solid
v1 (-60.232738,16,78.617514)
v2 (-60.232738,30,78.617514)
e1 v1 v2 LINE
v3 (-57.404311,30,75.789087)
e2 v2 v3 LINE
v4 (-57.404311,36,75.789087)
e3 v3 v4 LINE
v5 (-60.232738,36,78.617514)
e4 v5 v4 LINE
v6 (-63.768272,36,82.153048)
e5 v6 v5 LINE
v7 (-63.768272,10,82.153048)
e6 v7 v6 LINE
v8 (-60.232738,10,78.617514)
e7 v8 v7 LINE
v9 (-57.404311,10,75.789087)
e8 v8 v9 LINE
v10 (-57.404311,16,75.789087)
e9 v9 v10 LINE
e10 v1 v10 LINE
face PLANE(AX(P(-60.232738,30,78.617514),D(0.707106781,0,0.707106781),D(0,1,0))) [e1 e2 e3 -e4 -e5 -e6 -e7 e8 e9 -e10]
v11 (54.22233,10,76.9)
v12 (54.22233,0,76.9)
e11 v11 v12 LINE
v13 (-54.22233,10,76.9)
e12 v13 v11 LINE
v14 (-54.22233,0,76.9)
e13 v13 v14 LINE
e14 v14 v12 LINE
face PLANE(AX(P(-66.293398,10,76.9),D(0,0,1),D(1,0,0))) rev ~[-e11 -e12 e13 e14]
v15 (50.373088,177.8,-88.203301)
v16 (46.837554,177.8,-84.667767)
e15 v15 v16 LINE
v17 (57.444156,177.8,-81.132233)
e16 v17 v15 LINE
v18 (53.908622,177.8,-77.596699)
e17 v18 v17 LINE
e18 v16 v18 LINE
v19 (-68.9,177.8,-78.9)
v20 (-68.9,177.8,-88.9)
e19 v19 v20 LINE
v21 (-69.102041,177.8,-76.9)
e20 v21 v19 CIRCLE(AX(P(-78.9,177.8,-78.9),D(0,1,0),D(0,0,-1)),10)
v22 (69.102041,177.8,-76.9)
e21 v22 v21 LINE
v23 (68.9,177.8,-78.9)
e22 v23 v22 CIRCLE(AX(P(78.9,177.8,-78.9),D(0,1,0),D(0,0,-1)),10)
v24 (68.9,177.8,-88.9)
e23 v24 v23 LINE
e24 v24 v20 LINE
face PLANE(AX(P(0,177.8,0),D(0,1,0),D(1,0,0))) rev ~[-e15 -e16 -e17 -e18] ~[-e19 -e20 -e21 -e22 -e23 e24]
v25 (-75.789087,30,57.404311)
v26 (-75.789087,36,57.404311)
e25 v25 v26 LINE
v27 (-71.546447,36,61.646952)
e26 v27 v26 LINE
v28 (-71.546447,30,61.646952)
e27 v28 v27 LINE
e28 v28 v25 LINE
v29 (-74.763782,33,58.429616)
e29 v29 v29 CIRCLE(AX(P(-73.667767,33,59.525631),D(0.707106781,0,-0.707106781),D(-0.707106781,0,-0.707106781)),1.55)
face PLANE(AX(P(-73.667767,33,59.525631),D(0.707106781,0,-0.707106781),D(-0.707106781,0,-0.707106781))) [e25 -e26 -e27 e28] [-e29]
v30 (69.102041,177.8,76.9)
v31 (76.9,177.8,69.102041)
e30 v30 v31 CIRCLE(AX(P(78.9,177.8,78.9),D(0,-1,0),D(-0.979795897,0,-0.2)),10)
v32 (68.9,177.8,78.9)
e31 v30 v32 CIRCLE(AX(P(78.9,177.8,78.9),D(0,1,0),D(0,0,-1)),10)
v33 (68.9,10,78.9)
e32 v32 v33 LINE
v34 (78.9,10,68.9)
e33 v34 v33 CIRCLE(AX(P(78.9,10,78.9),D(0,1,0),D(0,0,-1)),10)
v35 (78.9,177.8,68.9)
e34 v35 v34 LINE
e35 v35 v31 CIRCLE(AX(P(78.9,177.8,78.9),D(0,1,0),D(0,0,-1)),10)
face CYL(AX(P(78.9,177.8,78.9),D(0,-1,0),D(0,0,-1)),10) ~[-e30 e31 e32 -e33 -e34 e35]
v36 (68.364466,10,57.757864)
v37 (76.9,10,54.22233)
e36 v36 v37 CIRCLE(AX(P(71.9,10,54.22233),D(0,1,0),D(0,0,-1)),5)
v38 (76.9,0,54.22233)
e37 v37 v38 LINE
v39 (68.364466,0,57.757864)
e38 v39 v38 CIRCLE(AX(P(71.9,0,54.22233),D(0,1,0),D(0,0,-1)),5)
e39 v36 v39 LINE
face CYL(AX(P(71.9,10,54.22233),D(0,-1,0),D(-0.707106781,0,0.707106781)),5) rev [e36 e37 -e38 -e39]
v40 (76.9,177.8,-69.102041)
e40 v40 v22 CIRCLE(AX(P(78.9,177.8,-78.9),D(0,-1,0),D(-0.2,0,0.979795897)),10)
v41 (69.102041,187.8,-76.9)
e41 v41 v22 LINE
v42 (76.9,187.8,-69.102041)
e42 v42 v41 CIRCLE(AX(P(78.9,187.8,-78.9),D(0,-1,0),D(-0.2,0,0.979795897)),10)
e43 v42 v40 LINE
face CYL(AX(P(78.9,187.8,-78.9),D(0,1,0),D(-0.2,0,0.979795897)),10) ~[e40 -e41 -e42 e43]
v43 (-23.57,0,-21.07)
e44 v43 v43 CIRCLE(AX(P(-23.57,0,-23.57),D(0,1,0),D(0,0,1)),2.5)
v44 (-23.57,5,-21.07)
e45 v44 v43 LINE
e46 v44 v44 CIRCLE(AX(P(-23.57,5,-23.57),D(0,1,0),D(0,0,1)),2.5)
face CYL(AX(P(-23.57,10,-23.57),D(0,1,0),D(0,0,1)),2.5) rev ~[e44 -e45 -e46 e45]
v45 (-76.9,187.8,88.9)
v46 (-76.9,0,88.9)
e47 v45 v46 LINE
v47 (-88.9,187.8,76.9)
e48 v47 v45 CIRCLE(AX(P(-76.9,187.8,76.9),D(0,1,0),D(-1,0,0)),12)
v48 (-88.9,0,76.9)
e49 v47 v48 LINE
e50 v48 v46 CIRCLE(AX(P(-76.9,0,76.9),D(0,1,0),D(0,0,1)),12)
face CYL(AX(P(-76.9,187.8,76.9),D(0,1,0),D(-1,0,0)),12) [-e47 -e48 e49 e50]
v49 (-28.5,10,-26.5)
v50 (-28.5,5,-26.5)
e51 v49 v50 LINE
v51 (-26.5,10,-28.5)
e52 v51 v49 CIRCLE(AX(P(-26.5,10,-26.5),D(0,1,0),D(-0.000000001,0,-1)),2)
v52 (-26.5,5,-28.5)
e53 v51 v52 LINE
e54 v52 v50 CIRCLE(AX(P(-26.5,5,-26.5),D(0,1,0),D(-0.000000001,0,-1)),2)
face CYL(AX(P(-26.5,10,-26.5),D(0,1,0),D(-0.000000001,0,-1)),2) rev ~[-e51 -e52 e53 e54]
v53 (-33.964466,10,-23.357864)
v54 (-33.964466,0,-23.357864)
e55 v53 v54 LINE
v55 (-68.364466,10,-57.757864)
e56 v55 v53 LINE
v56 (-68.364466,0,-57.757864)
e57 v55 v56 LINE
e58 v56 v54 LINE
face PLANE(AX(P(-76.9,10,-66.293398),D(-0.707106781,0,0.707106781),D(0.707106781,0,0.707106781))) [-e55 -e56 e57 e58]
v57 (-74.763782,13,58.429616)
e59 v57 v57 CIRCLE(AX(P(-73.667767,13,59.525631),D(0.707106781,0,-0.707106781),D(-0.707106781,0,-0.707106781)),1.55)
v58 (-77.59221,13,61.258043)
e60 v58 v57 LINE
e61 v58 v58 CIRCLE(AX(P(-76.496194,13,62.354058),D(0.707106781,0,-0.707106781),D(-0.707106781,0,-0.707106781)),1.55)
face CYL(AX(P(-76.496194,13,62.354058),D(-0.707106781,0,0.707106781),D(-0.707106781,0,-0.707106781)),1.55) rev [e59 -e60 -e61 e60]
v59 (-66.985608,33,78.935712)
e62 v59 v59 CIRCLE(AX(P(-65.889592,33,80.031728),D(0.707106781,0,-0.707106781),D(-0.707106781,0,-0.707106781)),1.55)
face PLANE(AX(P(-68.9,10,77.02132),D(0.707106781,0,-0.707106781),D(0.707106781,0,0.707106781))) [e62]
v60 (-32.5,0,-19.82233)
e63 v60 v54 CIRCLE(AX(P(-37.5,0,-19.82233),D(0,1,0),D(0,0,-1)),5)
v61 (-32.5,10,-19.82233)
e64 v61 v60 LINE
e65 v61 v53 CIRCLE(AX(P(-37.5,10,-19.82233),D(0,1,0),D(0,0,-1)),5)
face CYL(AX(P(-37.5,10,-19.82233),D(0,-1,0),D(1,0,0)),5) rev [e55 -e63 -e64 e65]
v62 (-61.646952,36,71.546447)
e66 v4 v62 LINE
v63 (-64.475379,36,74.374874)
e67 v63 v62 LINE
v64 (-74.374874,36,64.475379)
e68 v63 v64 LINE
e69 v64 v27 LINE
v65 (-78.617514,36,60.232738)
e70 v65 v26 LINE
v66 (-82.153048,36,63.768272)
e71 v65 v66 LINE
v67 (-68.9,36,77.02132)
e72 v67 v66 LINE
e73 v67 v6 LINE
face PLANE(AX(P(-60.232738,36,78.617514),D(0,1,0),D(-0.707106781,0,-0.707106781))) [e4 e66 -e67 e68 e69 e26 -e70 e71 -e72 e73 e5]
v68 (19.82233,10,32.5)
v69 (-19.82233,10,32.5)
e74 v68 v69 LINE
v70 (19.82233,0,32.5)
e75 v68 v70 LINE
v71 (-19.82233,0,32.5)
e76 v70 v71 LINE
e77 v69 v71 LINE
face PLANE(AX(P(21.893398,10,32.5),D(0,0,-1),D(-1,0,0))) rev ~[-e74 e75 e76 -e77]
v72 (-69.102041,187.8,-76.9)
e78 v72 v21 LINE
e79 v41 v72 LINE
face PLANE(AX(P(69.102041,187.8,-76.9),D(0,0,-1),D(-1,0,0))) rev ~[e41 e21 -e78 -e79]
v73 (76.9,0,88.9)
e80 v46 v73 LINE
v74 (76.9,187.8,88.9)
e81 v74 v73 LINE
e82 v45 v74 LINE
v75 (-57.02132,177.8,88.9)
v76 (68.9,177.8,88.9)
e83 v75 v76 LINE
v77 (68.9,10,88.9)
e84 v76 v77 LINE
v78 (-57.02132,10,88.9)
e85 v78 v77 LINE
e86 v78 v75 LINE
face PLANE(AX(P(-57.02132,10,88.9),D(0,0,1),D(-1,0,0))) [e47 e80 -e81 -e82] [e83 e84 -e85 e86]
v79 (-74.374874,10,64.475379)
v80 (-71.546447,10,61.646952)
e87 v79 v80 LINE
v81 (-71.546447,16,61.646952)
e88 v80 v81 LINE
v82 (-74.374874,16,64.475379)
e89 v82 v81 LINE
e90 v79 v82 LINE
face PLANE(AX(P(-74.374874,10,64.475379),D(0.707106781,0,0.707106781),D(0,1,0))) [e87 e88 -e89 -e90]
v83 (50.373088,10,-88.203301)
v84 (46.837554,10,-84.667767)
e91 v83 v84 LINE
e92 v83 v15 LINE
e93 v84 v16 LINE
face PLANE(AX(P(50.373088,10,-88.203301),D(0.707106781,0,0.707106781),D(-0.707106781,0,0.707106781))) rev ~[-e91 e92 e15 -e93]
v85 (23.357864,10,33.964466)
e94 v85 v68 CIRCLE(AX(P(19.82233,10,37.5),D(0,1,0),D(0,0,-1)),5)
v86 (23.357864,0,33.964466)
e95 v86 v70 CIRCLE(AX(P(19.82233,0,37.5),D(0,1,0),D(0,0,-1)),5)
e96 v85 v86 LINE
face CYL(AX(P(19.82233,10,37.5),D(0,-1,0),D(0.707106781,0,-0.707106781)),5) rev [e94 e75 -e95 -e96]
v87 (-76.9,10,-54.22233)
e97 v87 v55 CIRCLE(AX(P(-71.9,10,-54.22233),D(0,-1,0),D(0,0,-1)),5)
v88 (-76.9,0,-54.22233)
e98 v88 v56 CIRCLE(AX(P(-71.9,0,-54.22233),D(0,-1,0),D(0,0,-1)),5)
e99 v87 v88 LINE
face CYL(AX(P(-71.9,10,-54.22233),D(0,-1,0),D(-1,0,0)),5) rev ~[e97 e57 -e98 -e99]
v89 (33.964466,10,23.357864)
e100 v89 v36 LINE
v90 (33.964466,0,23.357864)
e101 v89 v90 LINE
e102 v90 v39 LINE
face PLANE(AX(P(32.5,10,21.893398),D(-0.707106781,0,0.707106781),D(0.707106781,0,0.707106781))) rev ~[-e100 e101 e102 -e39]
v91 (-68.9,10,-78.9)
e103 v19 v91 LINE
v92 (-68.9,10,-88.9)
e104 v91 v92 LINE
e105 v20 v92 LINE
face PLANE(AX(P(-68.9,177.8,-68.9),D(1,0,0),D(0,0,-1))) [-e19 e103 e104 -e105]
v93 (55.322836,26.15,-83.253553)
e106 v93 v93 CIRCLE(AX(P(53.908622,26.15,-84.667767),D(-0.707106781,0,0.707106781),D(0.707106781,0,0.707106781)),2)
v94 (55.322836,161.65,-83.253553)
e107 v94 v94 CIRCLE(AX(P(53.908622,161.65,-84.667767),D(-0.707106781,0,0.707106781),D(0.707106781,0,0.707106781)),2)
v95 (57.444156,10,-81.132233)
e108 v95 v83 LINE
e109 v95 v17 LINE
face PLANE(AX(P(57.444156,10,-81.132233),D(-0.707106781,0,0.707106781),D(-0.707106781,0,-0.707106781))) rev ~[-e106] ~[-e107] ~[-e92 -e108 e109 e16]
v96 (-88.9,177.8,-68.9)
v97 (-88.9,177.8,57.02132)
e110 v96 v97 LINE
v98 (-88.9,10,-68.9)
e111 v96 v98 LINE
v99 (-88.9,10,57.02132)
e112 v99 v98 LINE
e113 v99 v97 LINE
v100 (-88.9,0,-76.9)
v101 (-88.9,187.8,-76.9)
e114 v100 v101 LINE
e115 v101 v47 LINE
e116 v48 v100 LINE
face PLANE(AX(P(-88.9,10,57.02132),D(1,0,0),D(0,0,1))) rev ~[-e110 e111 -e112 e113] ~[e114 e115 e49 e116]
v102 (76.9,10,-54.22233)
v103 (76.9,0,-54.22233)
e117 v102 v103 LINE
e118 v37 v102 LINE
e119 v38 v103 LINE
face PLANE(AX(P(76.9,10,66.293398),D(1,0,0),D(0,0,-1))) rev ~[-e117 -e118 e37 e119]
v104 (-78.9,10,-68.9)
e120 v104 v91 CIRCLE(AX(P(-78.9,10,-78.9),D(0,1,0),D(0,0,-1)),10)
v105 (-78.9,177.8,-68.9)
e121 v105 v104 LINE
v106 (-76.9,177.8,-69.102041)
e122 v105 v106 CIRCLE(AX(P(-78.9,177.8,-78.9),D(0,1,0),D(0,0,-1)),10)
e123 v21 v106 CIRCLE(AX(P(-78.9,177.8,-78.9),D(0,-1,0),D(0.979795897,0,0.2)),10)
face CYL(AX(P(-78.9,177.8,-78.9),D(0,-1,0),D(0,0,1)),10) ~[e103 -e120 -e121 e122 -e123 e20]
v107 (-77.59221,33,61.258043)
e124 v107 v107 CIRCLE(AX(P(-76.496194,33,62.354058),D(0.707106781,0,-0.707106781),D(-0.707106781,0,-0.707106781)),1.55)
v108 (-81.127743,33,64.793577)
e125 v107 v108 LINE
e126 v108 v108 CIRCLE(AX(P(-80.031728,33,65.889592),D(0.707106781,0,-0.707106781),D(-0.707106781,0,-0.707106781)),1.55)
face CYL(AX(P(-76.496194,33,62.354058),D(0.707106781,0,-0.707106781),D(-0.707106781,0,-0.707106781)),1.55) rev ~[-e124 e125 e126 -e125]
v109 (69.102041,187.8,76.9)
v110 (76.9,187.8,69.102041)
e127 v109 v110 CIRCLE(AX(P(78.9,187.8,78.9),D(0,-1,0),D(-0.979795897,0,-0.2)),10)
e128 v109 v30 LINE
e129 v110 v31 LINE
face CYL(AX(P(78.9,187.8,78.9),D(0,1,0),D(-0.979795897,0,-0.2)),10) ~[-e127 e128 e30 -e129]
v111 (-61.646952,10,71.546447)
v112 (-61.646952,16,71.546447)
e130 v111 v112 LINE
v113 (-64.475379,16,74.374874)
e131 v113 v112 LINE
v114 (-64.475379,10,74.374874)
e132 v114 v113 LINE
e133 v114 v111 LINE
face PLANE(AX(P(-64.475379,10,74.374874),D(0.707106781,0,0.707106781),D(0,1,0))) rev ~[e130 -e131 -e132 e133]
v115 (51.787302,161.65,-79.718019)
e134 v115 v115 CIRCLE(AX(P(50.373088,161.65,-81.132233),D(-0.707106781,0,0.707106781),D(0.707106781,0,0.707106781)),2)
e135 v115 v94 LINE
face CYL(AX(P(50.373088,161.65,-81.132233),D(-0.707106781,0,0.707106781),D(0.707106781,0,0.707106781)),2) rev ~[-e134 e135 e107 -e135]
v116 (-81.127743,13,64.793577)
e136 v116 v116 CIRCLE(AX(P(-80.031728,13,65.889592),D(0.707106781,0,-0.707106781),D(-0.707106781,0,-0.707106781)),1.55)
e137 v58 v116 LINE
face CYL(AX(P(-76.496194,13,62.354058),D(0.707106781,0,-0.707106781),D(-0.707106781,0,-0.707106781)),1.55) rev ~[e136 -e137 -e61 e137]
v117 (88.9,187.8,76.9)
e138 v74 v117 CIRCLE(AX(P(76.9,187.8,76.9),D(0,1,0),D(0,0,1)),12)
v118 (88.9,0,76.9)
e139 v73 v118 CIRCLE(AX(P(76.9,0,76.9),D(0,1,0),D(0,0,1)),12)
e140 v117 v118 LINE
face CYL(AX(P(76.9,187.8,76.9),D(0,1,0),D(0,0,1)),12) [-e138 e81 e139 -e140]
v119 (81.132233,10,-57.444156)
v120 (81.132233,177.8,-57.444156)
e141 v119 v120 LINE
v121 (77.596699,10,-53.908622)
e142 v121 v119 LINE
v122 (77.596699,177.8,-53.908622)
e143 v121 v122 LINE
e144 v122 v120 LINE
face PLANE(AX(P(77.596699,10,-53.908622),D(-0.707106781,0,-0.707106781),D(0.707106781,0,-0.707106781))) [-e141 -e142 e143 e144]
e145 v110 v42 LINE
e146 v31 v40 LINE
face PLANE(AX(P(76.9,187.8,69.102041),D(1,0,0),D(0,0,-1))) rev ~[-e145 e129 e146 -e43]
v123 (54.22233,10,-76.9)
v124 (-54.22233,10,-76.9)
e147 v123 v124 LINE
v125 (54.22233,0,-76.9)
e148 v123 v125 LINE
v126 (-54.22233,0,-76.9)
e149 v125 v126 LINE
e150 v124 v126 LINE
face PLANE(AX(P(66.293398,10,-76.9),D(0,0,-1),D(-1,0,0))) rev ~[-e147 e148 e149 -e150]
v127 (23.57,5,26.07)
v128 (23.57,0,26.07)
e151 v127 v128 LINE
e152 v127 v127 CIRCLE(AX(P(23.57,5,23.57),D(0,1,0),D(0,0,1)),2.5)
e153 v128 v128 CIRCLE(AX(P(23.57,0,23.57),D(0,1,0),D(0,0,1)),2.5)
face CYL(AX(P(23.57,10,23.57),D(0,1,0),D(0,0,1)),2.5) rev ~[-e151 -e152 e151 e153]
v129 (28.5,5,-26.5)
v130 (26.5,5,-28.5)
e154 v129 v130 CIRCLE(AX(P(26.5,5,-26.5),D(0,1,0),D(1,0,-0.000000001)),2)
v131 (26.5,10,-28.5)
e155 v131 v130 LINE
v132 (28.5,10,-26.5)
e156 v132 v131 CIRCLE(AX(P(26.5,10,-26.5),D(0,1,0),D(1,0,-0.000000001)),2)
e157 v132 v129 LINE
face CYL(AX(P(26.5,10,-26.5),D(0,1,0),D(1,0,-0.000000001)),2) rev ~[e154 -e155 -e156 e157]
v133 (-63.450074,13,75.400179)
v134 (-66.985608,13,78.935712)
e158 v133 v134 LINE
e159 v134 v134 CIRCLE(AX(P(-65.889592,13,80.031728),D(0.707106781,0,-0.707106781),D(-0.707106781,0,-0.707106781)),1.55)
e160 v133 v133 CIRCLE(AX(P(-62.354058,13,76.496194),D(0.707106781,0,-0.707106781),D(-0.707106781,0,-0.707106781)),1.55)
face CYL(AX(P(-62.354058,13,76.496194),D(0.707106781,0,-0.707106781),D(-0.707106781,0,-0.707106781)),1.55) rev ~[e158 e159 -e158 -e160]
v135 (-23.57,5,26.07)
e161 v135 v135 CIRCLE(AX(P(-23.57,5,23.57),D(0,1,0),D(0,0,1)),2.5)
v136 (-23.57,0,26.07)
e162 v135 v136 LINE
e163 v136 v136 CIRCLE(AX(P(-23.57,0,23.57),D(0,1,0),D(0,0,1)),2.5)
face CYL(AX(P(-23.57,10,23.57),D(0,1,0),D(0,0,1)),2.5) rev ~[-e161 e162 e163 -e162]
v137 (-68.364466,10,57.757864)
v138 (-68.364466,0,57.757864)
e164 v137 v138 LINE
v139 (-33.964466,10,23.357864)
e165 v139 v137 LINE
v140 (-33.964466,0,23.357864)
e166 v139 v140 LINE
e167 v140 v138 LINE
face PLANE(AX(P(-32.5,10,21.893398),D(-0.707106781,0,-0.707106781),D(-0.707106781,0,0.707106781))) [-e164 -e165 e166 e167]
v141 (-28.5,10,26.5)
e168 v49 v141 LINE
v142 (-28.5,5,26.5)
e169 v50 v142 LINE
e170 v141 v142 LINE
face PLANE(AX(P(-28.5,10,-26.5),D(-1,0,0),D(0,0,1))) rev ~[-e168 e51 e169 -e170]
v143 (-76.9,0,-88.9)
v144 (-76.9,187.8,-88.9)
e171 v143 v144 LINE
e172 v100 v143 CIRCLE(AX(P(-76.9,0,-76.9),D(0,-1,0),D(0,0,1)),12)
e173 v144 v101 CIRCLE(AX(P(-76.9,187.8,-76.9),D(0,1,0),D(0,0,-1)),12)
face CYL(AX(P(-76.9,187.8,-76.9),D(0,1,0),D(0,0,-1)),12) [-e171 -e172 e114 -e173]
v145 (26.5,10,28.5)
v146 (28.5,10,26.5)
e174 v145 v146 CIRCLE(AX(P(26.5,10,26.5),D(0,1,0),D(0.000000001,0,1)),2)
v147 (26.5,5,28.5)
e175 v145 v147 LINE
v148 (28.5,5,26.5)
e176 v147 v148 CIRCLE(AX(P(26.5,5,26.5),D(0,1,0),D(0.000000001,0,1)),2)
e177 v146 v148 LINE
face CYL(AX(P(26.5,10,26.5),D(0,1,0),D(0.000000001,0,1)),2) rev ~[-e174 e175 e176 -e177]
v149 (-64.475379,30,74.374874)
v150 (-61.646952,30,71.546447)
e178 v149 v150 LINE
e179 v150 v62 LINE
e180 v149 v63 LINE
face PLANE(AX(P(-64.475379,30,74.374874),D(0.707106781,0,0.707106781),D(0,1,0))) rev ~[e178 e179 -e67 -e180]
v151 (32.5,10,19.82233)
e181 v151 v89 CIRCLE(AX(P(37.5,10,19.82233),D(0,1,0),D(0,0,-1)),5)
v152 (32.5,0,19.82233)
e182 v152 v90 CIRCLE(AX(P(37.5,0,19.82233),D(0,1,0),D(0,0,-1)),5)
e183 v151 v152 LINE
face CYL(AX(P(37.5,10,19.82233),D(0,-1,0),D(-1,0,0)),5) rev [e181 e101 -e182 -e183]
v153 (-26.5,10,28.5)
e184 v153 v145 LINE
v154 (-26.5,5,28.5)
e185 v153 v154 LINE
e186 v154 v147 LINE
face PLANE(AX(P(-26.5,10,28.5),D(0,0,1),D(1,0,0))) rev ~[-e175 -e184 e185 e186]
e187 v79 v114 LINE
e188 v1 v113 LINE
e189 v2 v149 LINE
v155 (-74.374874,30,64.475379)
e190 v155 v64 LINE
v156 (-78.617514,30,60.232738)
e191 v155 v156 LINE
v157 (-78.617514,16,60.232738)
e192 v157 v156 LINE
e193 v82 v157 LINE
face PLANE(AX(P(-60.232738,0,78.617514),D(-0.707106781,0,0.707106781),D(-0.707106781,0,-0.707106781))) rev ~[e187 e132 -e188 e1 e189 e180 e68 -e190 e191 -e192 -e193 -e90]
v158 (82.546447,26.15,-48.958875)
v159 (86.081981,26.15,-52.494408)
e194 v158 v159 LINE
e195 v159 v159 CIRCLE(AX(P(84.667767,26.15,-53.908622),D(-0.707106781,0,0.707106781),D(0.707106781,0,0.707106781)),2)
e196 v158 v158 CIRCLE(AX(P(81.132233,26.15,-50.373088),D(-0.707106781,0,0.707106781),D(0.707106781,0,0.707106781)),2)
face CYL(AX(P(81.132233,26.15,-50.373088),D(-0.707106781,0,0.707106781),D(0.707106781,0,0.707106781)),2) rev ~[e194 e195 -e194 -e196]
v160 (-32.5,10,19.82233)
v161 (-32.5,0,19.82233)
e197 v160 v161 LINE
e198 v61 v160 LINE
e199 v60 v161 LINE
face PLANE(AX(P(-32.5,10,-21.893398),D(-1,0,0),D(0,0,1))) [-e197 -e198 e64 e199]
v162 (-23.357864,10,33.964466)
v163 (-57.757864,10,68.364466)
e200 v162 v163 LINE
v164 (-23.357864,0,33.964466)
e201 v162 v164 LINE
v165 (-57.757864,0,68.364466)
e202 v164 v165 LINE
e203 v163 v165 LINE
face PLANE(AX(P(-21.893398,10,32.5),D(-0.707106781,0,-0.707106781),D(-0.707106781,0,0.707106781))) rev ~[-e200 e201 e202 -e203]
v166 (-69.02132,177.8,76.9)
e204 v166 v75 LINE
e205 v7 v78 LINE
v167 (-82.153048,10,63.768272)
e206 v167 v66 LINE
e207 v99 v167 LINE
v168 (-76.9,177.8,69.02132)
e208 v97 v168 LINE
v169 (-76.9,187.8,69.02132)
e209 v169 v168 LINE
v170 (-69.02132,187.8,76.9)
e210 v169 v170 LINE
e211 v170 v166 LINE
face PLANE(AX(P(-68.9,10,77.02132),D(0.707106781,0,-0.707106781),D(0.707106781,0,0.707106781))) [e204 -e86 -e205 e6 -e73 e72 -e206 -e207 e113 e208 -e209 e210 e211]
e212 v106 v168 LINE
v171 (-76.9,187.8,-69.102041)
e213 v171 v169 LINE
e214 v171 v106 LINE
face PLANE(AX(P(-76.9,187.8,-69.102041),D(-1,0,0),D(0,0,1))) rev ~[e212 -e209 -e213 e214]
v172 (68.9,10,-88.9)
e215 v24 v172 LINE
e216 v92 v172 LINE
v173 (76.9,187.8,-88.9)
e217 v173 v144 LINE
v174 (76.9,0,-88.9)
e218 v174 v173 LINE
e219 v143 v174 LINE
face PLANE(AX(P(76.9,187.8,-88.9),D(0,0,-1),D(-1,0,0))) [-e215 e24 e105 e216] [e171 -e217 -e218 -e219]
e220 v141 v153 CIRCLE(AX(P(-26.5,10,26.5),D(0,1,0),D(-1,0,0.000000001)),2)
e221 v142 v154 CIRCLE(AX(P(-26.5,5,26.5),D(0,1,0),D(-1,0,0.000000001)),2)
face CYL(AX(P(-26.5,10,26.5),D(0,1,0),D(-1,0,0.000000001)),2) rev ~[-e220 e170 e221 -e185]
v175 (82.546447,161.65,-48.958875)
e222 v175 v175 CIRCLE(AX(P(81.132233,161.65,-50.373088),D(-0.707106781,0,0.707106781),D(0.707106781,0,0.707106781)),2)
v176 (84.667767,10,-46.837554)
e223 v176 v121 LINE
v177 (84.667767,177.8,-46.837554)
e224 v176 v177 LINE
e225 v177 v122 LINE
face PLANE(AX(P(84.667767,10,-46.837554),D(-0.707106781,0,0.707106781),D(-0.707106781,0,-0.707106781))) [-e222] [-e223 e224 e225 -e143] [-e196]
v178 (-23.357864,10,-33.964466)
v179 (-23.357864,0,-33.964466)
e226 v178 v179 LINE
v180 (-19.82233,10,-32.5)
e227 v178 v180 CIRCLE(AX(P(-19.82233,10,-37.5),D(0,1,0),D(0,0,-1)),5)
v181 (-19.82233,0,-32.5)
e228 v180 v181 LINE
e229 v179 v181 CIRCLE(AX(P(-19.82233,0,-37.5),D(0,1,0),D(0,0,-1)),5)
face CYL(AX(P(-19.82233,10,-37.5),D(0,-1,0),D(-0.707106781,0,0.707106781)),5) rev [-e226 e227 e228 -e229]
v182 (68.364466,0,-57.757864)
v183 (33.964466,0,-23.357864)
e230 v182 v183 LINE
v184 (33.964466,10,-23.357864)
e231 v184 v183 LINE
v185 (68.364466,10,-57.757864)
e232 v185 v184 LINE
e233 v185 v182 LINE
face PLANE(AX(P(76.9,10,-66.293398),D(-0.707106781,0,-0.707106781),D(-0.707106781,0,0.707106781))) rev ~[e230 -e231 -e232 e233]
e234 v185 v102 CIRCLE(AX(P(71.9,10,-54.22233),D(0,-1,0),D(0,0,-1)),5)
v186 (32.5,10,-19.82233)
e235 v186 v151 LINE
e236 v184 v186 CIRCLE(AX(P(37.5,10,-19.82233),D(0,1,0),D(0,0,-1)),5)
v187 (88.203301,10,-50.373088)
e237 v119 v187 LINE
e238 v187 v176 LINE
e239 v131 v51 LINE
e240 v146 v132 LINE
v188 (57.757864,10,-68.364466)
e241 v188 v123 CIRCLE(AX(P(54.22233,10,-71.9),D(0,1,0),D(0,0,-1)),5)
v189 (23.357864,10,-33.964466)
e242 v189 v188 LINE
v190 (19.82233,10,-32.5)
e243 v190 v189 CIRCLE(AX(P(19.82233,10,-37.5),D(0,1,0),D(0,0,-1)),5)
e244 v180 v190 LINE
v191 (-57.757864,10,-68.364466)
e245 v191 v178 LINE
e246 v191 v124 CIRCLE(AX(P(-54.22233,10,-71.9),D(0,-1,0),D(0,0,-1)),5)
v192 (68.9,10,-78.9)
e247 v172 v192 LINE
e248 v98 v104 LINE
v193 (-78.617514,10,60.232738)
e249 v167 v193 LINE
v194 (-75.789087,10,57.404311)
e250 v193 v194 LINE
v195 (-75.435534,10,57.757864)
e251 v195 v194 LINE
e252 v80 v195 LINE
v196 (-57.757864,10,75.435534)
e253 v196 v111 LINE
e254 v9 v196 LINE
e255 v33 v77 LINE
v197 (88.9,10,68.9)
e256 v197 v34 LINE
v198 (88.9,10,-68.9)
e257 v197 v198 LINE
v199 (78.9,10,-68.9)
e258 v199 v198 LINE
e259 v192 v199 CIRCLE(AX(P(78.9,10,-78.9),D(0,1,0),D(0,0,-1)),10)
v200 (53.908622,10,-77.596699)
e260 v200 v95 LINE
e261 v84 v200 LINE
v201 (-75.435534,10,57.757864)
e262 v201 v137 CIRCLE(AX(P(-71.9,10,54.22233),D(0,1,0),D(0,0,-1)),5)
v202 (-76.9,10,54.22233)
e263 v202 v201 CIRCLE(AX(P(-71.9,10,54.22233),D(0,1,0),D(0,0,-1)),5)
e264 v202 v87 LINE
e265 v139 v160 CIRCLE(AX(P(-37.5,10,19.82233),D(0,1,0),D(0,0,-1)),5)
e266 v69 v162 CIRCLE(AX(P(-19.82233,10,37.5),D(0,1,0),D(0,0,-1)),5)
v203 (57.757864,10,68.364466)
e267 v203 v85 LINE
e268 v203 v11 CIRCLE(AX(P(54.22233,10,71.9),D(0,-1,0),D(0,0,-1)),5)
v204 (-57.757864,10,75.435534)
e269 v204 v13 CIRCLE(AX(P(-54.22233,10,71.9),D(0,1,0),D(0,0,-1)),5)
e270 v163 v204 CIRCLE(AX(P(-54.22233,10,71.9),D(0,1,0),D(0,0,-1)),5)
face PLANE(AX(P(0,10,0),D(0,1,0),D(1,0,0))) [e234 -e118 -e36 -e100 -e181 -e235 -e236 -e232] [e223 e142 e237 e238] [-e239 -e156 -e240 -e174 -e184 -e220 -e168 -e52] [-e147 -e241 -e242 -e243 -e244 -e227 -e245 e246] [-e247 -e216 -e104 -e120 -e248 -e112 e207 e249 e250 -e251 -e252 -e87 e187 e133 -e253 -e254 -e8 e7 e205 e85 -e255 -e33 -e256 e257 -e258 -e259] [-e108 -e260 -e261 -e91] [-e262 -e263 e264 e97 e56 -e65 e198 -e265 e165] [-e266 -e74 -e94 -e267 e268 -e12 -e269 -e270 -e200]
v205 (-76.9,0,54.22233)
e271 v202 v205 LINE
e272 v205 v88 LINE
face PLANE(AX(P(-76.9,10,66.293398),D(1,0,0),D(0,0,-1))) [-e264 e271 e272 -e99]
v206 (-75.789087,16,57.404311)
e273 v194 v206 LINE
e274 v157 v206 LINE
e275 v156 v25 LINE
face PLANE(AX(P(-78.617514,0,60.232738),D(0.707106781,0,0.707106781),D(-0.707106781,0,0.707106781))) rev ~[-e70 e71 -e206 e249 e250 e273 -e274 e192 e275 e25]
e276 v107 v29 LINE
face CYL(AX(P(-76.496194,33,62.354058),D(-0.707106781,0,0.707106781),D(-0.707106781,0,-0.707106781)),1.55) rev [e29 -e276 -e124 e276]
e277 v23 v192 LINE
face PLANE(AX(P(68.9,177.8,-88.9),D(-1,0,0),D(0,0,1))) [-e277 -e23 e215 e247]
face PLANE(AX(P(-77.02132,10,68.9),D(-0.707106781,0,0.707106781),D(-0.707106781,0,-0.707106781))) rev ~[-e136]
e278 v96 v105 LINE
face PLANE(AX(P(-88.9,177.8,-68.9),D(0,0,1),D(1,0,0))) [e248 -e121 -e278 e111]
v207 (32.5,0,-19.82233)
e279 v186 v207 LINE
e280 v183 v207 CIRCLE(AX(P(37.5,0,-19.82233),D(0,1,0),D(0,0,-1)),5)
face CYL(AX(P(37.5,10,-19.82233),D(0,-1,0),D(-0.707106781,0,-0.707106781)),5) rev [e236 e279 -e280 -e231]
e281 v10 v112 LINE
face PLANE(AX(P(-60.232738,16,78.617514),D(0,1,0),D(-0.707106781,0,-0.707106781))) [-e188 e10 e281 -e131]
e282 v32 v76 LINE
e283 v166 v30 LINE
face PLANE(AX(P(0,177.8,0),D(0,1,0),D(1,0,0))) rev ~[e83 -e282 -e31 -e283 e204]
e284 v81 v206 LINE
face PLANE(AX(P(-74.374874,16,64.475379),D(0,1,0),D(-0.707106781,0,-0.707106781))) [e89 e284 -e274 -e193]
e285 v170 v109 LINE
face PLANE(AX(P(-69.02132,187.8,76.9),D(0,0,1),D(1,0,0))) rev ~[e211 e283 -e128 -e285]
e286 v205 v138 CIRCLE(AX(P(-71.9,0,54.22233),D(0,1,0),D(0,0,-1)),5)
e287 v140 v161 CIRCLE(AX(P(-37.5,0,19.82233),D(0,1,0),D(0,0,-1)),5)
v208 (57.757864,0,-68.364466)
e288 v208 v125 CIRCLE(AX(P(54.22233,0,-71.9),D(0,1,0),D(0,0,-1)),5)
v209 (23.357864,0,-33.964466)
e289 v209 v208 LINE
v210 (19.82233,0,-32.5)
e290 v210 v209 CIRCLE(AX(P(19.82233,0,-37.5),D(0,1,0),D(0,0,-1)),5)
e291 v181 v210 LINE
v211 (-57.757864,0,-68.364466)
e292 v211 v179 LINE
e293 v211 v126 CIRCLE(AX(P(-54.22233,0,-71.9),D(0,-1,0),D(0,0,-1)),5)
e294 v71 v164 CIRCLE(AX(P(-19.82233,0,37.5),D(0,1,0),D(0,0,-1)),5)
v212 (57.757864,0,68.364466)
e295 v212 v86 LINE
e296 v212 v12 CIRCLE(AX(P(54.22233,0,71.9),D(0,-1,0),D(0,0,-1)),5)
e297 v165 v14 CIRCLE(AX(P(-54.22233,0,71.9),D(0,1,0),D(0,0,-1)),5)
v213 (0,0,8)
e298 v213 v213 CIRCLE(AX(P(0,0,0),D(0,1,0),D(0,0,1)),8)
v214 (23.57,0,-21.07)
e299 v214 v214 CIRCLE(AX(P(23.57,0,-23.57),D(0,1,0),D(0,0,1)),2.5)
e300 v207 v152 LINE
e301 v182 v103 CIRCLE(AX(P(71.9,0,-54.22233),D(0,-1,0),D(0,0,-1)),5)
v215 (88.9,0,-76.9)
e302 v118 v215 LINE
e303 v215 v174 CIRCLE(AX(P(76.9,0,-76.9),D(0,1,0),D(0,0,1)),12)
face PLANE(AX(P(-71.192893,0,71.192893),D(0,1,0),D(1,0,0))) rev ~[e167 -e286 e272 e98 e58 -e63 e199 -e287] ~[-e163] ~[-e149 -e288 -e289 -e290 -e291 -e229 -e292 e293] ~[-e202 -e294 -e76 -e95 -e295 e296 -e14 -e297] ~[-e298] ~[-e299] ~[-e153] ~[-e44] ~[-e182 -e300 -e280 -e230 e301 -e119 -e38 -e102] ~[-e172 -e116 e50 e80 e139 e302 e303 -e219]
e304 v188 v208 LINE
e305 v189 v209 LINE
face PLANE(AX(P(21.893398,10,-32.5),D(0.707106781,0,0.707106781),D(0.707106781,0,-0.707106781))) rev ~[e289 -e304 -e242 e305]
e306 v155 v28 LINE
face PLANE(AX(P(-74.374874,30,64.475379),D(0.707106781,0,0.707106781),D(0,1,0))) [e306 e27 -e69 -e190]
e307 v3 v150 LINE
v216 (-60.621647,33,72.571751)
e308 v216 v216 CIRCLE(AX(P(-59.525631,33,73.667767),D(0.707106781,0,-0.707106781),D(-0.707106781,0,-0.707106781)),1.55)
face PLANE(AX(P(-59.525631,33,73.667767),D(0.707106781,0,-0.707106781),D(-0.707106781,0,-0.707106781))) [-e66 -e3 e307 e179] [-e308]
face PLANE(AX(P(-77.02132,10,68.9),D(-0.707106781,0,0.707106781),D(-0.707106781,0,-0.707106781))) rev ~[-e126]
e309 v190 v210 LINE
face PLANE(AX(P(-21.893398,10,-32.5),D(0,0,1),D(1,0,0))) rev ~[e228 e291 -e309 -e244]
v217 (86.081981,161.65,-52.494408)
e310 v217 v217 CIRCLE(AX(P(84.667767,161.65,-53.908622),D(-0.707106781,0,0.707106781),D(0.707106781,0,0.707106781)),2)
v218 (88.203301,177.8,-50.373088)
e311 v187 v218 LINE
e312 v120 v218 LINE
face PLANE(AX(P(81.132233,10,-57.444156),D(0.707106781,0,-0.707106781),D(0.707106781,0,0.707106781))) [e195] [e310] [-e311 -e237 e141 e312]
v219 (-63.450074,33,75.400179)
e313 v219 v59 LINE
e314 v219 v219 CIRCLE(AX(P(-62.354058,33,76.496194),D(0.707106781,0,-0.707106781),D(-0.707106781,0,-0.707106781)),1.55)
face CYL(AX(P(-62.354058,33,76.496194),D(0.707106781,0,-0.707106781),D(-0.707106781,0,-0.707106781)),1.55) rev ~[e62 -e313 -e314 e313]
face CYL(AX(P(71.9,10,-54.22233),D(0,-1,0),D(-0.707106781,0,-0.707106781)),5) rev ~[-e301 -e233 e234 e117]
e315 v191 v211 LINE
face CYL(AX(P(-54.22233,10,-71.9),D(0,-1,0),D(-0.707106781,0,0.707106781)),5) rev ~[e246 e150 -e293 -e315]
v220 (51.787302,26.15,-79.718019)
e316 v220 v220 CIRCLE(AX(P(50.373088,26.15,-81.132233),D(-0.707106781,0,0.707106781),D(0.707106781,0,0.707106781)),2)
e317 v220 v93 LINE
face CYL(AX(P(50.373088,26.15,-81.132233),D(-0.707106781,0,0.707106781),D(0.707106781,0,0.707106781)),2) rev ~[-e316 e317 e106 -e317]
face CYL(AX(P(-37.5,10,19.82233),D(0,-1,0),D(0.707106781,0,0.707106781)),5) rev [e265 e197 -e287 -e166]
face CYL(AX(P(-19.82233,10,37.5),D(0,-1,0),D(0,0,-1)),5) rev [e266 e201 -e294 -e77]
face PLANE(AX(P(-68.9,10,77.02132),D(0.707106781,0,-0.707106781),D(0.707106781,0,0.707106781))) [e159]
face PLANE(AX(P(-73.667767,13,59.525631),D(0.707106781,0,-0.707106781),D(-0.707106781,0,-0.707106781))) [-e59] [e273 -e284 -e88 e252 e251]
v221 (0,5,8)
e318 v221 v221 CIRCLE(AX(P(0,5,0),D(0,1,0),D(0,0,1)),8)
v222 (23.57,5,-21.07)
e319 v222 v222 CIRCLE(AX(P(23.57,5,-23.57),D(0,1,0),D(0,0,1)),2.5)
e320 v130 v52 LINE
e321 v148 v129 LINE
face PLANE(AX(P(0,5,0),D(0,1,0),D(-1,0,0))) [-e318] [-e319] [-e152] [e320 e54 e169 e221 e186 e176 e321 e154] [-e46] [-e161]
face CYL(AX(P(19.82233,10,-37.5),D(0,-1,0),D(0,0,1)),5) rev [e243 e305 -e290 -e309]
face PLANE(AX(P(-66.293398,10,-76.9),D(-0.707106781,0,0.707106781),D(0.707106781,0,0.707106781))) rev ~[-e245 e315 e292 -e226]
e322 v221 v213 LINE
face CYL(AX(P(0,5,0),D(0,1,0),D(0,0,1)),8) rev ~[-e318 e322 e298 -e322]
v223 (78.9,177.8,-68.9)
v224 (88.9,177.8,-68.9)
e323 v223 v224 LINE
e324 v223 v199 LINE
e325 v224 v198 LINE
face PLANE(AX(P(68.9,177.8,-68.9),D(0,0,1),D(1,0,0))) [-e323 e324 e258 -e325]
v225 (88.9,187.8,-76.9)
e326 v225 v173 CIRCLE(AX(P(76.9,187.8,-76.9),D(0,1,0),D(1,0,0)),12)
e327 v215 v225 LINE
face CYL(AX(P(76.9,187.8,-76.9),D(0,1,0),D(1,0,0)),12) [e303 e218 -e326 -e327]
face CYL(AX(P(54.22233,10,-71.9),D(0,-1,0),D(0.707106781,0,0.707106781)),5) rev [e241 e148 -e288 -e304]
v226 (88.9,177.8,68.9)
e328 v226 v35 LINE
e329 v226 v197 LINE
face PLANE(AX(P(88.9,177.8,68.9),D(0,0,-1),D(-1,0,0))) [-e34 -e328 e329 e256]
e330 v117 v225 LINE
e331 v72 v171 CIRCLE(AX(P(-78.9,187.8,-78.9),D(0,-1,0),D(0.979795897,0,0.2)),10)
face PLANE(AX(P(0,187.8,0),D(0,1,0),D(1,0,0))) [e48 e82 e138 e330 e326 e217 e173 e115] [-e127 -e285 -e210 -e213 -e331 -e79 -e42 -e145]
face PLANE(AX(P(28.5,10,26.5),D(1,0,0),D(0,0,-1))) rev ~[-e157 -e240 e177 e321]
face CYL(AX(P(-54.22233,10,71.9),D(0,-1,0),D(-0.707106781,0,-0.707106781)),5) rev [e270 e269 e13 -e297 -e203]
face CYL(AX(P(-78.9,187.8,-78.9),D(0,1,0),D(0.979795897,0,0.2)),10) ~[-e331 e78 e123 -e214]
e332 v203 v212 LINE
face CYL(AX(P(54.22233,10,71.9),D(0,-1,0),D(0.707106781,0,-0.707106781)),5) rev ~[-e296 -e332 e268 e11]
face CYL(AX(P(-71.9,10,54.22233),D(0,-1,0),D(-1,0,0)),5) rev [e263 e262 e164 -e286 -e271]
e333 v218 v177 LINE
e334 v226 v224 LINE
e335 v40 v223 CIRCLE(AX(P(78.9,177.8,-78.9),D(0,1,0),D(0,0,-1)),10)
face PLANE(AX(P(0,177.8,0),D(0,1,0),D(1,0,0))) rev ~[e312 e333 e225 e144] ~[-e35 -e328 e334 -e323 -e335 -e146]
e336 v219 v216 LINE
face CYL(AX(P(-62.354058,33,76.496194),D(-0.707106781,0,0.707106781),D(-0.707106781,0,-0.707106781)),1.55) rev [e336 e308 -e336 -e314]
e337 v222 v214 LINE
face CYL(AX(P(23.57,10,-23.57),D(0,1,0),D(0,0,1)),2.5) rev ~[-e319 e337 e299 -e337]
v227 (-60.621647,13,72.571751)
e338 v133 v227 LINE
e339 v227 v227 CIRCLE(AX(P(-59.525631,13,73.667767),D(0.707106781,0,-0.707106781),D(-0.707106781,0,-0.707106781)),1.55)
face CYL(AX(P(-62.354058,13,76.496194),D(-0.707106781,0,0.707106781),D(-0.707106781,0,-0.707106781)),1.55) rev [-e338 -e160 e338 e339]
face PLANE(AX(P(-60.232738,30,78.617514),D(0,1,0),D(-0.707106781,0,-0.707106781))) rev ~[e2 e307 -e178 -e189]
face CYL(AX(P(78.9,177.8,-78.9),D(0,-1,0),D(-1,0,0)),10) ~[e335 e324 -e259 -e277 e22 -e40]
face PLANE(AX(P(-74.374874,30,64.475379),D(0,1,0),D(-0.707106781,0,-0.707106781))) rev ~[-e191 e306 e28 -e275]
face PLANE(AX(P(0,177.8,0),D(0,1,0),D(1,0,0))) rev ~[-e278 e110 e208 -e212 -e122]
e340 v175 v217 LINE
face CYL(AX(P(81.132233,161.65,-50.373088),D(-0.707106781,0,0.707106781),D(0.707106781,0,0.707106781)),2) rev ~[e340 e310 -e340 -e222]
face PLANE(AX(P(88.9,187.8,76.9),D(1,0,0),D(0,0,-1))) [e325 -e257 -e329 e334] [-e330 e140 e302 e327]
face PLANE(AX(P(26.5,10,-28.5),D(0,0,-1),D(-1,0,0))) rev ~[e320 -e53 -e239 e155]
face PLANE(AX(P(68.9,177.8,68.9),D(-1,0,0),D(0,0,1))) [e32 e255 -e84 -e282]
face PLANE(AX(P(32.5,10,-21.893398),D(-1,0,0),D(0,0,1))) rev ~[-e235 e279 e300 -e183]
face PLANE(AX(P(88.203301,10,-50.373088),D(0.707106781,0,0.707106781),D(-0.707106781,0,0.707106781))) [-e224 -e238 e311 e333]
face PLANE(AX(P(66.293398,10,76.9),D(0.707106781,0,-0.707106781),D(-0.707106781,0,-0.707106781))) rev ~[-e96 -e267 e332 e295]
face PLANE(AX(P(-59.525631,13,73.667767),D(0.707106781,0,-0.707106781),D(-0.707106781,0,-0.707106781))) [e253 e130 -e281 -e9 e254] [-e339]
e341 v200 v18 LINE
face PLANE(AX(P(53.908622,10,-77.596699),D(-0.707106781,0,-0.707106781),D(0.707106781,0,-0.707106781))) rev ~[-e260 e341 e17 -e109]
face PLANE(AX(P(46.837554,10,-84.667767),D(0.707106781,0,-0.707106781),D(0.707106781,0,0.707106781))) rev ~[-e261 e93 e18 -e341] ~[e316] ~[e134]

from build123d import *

# Parameters (mm, degrees)
SKETCH1_W                = 177.8
SKETCH1_H                = 177.8
BOSS_EXTRUDE1_DEPTH      = 10
FILLET1_R                = 12
CUT_EXTRUDE1_DEPTH       = 127.120656516
FILLET2_R                = 5
SKETCH3_R                = 2.5
CUT_EXTRUDE2_DEPTH       = 127.120656516
CUT_EXTRUDE3_DEPTH       = 5
SKETCH9_R                = 8
CUT_EXTRUDE6_DEPTH       = 126.822970876
BOSS_EXTRUDE2_DEPTH      = 26
BOSS_EXTRUDE2_DEPTH_BACK = 10
SKETCH7_W                = 6
SKETCH7_H                = 6
SKETCH7_R                = 1.55
BOSS_EXTRUDE3_DEPTH      = 4
SKETCH8_R                = 1.55
CUT_EXTRUDE5_DEPTH       = 227.781152687
BOSS_EXTRUDE4_START      = 167.8
BOSS_EXTRUDE4_DEPTH      = 167.8
FILLET3_R                = 10
BOSS_EXTRUDE5_START      = 10
BOSS_EXTRUDE5_DEPTH      = 10
BOSS_EXTRUDE6_REACH      = 219.76
BOSS_EXTRUDE7_REACH      = 219.76
CUT_EXTRUDE7_REACH       = 290.277
SKETCH15_R               = 2


with BuildPart() as part:
    # Sketch1 → Boss-Extrude1 (new body)
    with BuildSketch(Plane(origin=(0, 0, 0), x_dir=(1, 0, 0), z_dir=(0, 1, 0))):
        Rectangle(SKETCH1_W, SKETCH1_H)
    extrude(amount=BOSS_EXTRUDE1_DEPTH)

    # Fillet1
    fillet1_edges = [part.edges().sort_by_distance(p)[0] for p in [
        (-88.9, 5, -88.9),
        (88.9, 5, -88.9),
        (88.9, 5, 88.9),
        (-88.9, 5, 88.9),
    ]]
    fillet(fillet1_edges, radius=FILLET1_R)

    # Sketch2 → Cut-Extrude1 (cut, through all)
    with BuildSketch(Plane(origin=(0, 10, 0), x_dir=(1, 0, 0), z_dir=(0, 1, 0))):
        Polygon((-76.9, 66.293398282), (-32.5, 21.893398282), (-32.5, -21.893398282), (-76.9, -66.293398282), align=None)
        Polygon((-66.293398282, 76.9), (-21.893398282, 32.5), (21.893398282, 32.5), (66.293398282, 76.9), align=None)
        Polygon((76.9, 66.293398282), (32.5, 21.893398282), (32.5, -21.893398282), (76.9, -66.293398282), align=None)
        Polygon((66.293398282, -76.9), (21.893398282, -32.5), (-21.893398282, -32.5), (-66.293398282, -76.9), align=None)
    extrude(amount=-CUT_EXTRUDE1_DEPTH, mode=Mode.SUBTRACT)

    # Fillet2
    fillet2_edges = [part.edges().sort_by_distance(p)[0] for p in [
        (76.9, 5, 66.293398282),
        (32.5, 5, 21.893398282),
        (32.5, 5, -21.893398282),
        (76.9, 5, -66.293398282),
        (66.293398282, 5, -76.9),
        (21.893398282, 5, -32.5),
        (-21.893398282, 5, -32.5),
        (-66.293398282, 5, -76.9),
        (-66.293398282, 5, 76.9),
        (-21.893398282, 5, 32.5),
        (21.893398282, 5, 32.5),
        (66.293398282, 5, 76.9),
        (-76.9, 5, 66.293398282),
        (-76.9, 5, -66.293398282),
        (-32.5, 5, -21.893398282),
        (-32.5, 5, 21.893398282),
    ]]
    fillet(fillet2_edges, radius=FILLET2_R)

    # Sketch3 → Cut-Extrude2 (cut, through all)
    with BuildSketch(Plane(origin=(0, 10, 0), x_dir=(1, 0, 0), z_dir=(0, 1, 0))):
        with Locations(Location((-23.57, -23.57, 0), (0, 0, 270))):
            Circle(SKETCH3_R)
        with Locations(Location((23.57, 23.57, 0), (0, 0, 270))):
            Circle(SKETCH3_R)
        with Locations(Location((-23.57, 23.57, 0), (0, 0, 270))):
            Circle(SKETCH3_R)
        with Locations(Location((23.57, -23.57, 0), (0, 0, 270))):
            Circle(SKETCH3_R)
    extrude(amount=-CUT_EXTRUDE2_DEPTH, mode=Mode.SUBTRACT)

    # Sketch4 → Cut-Extrude3 (cut)
    with BuildSketch(Plane.XZ.offset(-10)):
        with BuildLine():
            Line((-26.5, 28.5), (26.5, 28.5))
            ThreePointArc((26.5, 28.5), (27.914213562, 27.914213562), (28.5, 26.5))
            Line((28.5, 26.5), (28.5, -26.5))
            ThreePointArc((28.5, -26.5), (27.914213562, -27.914213562), (26.5, -28.5))
            Line((26.5, -28.5), (-26.5, -28.5))
            ThreePointArc((-26.5, -28.5), (-27.914213562, -27.914213562), (-28.5, -26.5))
            Line((-28.5, -26.5), (-28.5, 26.5))
            ThreePointArc((-28.5, 26.5), (-27.914213562, 27.914213562), (-26.5, 28.5))
        make_face()
    extrude(amount=CUT_EXTRUDE3_DEPTH, mode=Mode.SUBTRACT)

    # Sketch9 → Cut-Extrude6 (cut, through all)
    with BuildSketch(Plane(origin=(0, 5, 0), x_dir=(1, 0, 0), z_dir=(0, 1, 0))):
        with Locations(Location((0, 0, 0), (0, 0, 270))):
            Circle(SKETCH9_R)
    extrude(amount=-CUT_EXTRUDE6_DEPTH, mode=Mode.SUBTRACT)

    # Sketch6 → Boss-Extrude2 (add, two sides: drawn at the far end of the back side and taken through both)
    with BuildSketch(Plane(origin=(0, 10, 0), x_dir=(1, 0, 0), z_dir=(0, 1, 0)).offset(-BOSS_EXTRUDE2_DEPTH_BACK)):
        Polygon((-82.153048327, -63.768272016), (-63.768272016, -82.153048327), (-60.23273811, -78.617514421), (-78.617514421, -60.23273811), align=None)
    extrude(amount=BOSS_EXTRUDE2_DEPTH + BOSS_EXTRUDE2_DEPTH_BACK)

    # Sketch7 → Boss-Extrude3 (add)
    # profile 1 of 4: a face of its own
    with BuildSketch(Plane(origin=(-69.425126266, 0, 69.425126266), x_dir=(-0.7071067811865478, 0, -0.7071067811865472), z_dir=(0.7071067811865472, 0, -0.7071067811865478))):
        with Locations((-10, 33)):
            Rectangle(SKETCH7_W, SKETCH7_H)
        with Locations((-10, 33)):
            Circle(SKETCH7_R, mode=Mode.SUBTRACT)
    # profile 2 of 4: a face of its own
    with BuildSketch(Plane(origin=(-69.425126266, 0, 69.425126266), x_dir=(-0.7071067811865478, 0, -0.7071067811865472), z_dir=(0.7071067811865472, 0, -0.7071067811865478))):
        with Locations((10, 13)):
            Rectangle(SKETCH7_W, SKETCH7_H)
        with Locations((10, 13)):
            Circle(SKETCH7_R, mode=Mode.SUBTRACT)
    # profile 3 of 4: a face of its own
    with BuildSketch(Plane(origin=(-69.425126266, 0, 69.425126266), x_dir=(-0.7071067811865478, 0, -0.7071067811865472), z_dir=(0.7071067811865472, 0, -0.7071067811865478))):
        with Locations((-10, 13)):
            Rectangle(SKETCH7_W, SKETCH7_H)
        with Locations((-10, 13)):
            Circle(SKETCH7_R, mode=Mode.SUBTRACT)
    # profile 4 of 4: a face of its own
    with BuildSketch(Plane(origin=(-69.425126266, 0, 69.425126266), x_dir=(-0.7071067811865478, 0, -0.7071067811865472), z_dir=(0.7071067811865472, 0, -0.7071067811865478))):
        with Locations((10, 33)):
            Rectangle(SKETCH7_W, SKETCH7_H)
        with Locations((10, 33)):
            Circle(SKETCH7_R, mode=Mode.SUBTRACT)
    extrude(amount=BOSS_EXTRUDE3_DEPTH)

    # Sketch8 → Cut-Extrude5 (cut, through all)
    with BuildSketch(Plane(origin=(-69.425126266, 0, 69.425126266), x_dir=(-0.7071067811865478, 0, -0.7071067811865472), z_dir=(0.7071067811865472, 0, -0.7071067811865478))):
        with Locations((-10, 13)):
            Circle(SKETCH8_R)
        with Locations((10, 13)):
            Circle(SKETCH8_R)
        with Locations((10, 33)):
            Circle(SKETCH8_R)
        with Locations((-10, 33)):
            Circle(SKETCH8_R)
    extrude(amount=-CUT_EXTRUDE5_DEPTH, mode=Mode.SUBTRACT)

    # Sketch10 → Boss-Extrude4 (add)
    with BuildSketch(Plane(origin=(0, 10, 0), x_dir=(1, 0, 0), z_dir=(0, 1, 0)).offset(BOSS_EXTRUDE4_START)):
        with BuildLine():
            Line((-68.9, -77.021320344), (-77.021320344, -68.9))
            Line((-77.021320344, -68.9), (-88.9, -68.9))
            Line((-88.9, -68.9), (-88.9, -76.9))
            ThreePointArc((-88.9, -76.9), (-85.385281374, -85.385281374), (-76.9, -88.9))
            Line((-76.9, -88.9), (-68.9, -88.9))
            Line((-68.9, -88.9), (-68.9, -77.021320344))
        make_face()
        with BuildLine():
            Line((-88.9, 76.9), (-88.9, 68.9))
            Line((-88.9, 68.9), (-68.9, 68.9))
            Line((-68.9, 68.9), (-68.9, 88.9))
            Line((-68.9, 88.9), (-76.9, 88.9))
            ThreePointArc((-76.9, 88.9), (-85.385281374, 85.385281374), (-88.9, 76.9))
        make_face()
        with BuildLine():
            Line((76.9, 88.9), (68.9, 88.9))
            Line((68.9, 88.9), (68.9, 68.9))
            Line((68.9, 68.9), (88.9, 68.9))
            Line((88.9, 68.9), (88.9, 76.9))
            ThreePointArc((88.9, 76.9), (85.385281374, 85.385281374), (76.9, 88.9))
        make_face()
        with BuildLine():
            Line((88.9, -76.9), (88.9, -68.9))
            Line((88.9, -68.9), (68.9, -68.9))
            Line((68.9, -68.9), (68.9, -88.9))
            Line((68.9, -88.9), (76.9, -88.9))
            ThreePointArc((76.9, -88.9), (85.385281374, -85.385281374), (88.9, -76.9))
        make_face()
    extrude(amount=-BOSS_EXTRUDE4_DEPTH)

    # Fillet3
    fillet3_edges = [part.edges().sort_by_distance(p)[0] for p in [
        (-68.9, 93.9, -68.9),
        (68.9, 93.9, -68.9),
        (68.9, 93.9, 68.9),
    ]]
    fillet(fillet3_edges, radius=FILLET3_R)

    # Sketch11 → Boss-Extrude5 (add)
    with BuildSketch(Plane(origin=(0, 177.8, 0), x_dir=(1, 0, 0), z_dir=(0, 1, 0)).offset(BOSS_EXTRUDE5_START)):
        with BuildLine():
            Line((88.9, -76.9), (88.9, 76.9))
            ThreePointArc((88.9, 76.9), (85.385281374, 85.385281374), (76.9, 88.9))
            Line((76.9, 88.9), (-76.9, 88.9))
            ThreePointArc((-76.9, 88.9), (-85.385281374, 85.385281374), (-88.9, 76.9))
            Line((-88.9, 76.9), (-88.9, -76.9))
            ThreePointArc((-88.9, -76.9), (-85.385281374, -85.385281374), (-76.9, -88.9))
            Line((-76.9, -88.9), (76.9, -88.9))
            ThreePointArc((76.9, -88.9), (85.385281374, -85.385281374), (88.9, -76.9))
        make_face()
        with BuildLine():
            Line((-69.021320344, -76.9), (69.102041029, -76.9))
            ThreePointArc((69.102041029, -76.9), (71.828932188, -71.828932188), (76.9, -69.102041029))
            Line((76.9, -69.102041029), (76.9, 69.102041029))
            ThreePointArc((76.9, 69.102041029), (71.828932188, 71.828932188), (69.102041029, 76.9))
            Line((69.102041029, 76.9), (-69.102041029, 76.9))
            ThreePointArc((-69.102041029, 76.9), (-71.828932188, 71.828932188), (-76.9, 69.102041029))
            Line((-76.9, 69.102041029), (-76.9, -69.021320344))
            Line((-76.9, -69.021320344), (-69.021320344, -76.9))
        make_face(mode=Mode.SUBTRACT)
    extrude(amount=-BOSS_EXTRUDE5_DEPTH)

    # Sketch13 → Boss-Extrude6 (add, up to next)
    with BuildSketch(Plane(origin=(0, 10, 0), x_dir=(1, 0, 0), z_dir=(0, 1, 0)), mode=Mode.PRIVATE) as boss_extrude6_sk1:
        Polygon((-88.9, -68.9), (-77.021320344, -68.9), (-88.9, -57.021320344), align=None)
    boss_extrude6_tool1 = extrude(boss_extrude6_sk1.sketch, amount=BOSS_EXTRUDE6_REACH, mode=Mode.PRIVATE) - part.part
    # Sketch13 → Boss-Extrude6 (add, up to next)
    with BuildSketch(Plane(origin=(0, 10, 0), x_dir=(1, 0, 0), z_dir=(0, 1, 0)), mode=Mode.PRIVATE) as boss_extrude6_sk2:
        Polygon((-68.9, -88.9), (-68.9, -77.021320344), (-57.021320344, -88.9), align=None)
    boss_extrude6_tool2 = extrude(boss_extrude6_sk2.sketch, amount=BOSS_EXTRUDE6_REACH, mode=Mode.PRIVATE) - part.part
    add(boss_extrude6_tool1.solids().sort_by_distance((-84.94044, 10, 64.94044))[0])
    add(boss_extrude6_tool2.solids().sort_by_distance((-64.94044, 10, 84.94044))[0])

    # Sketch14 → Boss-Extrude7 (add, up to next)
    with BuildSketch(Plane(origin=(0, 10, 0), x_dir=(1, 0, 0), z_dir=(0, 1, 0)), mode=Mode.PRIVATE) as boss_extrude7_sk1:
        Polygon((50.373088065, 88.203300859), (46.837554159, 84.667766953), (53.908621971, 77.596699141), (57.444155877, 81.132233047), align=None)
    boss_extrude7_tool1 = extrude(boss_extrude7_sk1.sketch, amount=BOSS_EXTRUDE7_REACH, mode=Mode.PRIVATE) - part.part
    # Sketch14 → Boss-Extrude7 (add, up to next)
    with BuildSketch(Plane(origin=(0, 10, 0), x_dir=(1, 0, 0), z_dir=(0, 1, 0)), mode=Mode.PRIVATE) as boss_extrude7_sk2:
        Polygon((77.596699141, 53.908621971), (81.132233047, 57.444155877), (88.203300859, 50.373088065), (84.667766953, 46.837554159), align=None)
    boss_extrude7_tool2 = extrude(boss_extrude7_sk2.sketch, amount=BOSS_EXTRUDE7_REACH, mode=Mode.PRIVATE) - part.part
    add(boss_extrude7_tool1.solids().sort_by_distance((52.140855, 10, -82.9))[0])
    add(boss_extrude7_tool2.solids().sort_by_distance((82.9, 10, -52.140855))[0])

    # Sketch15 → Cut-Extrude7 (cut, up to next)
    with BuildSketch(Plane(origin=(65.752660556, 0, -65.752660556), x_dir=(0.7071067811865449, 0, 0.7071067811865501), z_dir=(-0.7071067811865501, 0, 0.7071067811865449)), mode=Mode.PRIVATE) as cut_extrude7_sk1:
        with Locations((-21.75, 161.65)):
            Circle(SKETCH15_R)
    cut_extrude7_tool1 = extrude(cut_extrude7_sk1.sketch, amount=-CUT_EXTRUDE7_REACH, mode=Mode.PRIVATE) & part.part
    # Sketch15 → Cut-Extrude7 (cut, up to next)
    with BuildSketch(Plane(origin=(65.752660556, 0, -65.752660556), x_dir=(0.7071067811865449, 0, 0.7071067811865501), z_dir=(-0.7071067811865501, 0, 0.7071067811865449)), mode=Mode.PRIVATE) as cut_extrude7_sk2:
        with Locations((-21.75, 26.15)):
            Circle(SKETCH15_R)
    cut_extrude7_tool2 = extrude(cut_extrude7_sk2.sketch, amount=-CUT_EXTRUDE7_REACH, mode=Mode.PRIVATE) & part.part
    # Sketch15 → Cut-Extrude7 (cut, up to next)
    with BuildSketch(Plane(origin=(65.752660556, 0, -65.752660556), x_dir=(0.7071067811865449, 0, 0.7071067811865501), z_dir=(-0.7071067811865501, 0, 0.7071067811865449)), mode=Mode.PRIVATE) as cut_extrude7_sk3:
        with Locations((21.75, 26.15)):
            Circle(SKETCH15_R)
    cut_extrude7_tool3 = extrude(cut_extrude7_sk3.sketch, amount=-CUT_EXTRUDE7_REACH, mode=Mode.PRIVATE) & part.part
    # Sketch15 → Cut-Extrude7 (cut, up to next)
    with BuildSketch(Plane(origin=(65.752660556, 0, -65.752660556), x_dir=(0.7071067811865449, 0, 0.7071067811865501), z_dir=(-0.7071067811865501, 0, 0.7071067811865449)), mode=Mode.PRIVATE) as cut_extrude7_sk4:
        with Locations((21.75, 161.65)):
            Circle(SKETCH15_R)
    cut_extrude7_tool4 = extrude(cut_extrude7_sk4.sketch, amount=-CUT_EXTRUDE7_REACH, mode=Mode.PRIVATE) & part.part
    add(cut_extrude7_tool1.solids().sort_by_distance((50.373088, 161.65, -81.132233))[0], mode=Mode.SUBTRACT)
    add(cut_extrude7_tool2.solids().sort_by_distance((50.373088, 26.15, -81.132233))[0], mode=Mode.SUBTRACT)
    add(cut_extrude7_tool3.solids().sort_by_distance((81.132233, 26.15, -50.373088))[0], mode=Mode.SUBTRACT)
    add(cut_extrude7_tool4.solids().sort_by_distance((81.132233, 161.65, -50.373088))[0], mode=Mode.SUBTRACT)


solid = part.part
